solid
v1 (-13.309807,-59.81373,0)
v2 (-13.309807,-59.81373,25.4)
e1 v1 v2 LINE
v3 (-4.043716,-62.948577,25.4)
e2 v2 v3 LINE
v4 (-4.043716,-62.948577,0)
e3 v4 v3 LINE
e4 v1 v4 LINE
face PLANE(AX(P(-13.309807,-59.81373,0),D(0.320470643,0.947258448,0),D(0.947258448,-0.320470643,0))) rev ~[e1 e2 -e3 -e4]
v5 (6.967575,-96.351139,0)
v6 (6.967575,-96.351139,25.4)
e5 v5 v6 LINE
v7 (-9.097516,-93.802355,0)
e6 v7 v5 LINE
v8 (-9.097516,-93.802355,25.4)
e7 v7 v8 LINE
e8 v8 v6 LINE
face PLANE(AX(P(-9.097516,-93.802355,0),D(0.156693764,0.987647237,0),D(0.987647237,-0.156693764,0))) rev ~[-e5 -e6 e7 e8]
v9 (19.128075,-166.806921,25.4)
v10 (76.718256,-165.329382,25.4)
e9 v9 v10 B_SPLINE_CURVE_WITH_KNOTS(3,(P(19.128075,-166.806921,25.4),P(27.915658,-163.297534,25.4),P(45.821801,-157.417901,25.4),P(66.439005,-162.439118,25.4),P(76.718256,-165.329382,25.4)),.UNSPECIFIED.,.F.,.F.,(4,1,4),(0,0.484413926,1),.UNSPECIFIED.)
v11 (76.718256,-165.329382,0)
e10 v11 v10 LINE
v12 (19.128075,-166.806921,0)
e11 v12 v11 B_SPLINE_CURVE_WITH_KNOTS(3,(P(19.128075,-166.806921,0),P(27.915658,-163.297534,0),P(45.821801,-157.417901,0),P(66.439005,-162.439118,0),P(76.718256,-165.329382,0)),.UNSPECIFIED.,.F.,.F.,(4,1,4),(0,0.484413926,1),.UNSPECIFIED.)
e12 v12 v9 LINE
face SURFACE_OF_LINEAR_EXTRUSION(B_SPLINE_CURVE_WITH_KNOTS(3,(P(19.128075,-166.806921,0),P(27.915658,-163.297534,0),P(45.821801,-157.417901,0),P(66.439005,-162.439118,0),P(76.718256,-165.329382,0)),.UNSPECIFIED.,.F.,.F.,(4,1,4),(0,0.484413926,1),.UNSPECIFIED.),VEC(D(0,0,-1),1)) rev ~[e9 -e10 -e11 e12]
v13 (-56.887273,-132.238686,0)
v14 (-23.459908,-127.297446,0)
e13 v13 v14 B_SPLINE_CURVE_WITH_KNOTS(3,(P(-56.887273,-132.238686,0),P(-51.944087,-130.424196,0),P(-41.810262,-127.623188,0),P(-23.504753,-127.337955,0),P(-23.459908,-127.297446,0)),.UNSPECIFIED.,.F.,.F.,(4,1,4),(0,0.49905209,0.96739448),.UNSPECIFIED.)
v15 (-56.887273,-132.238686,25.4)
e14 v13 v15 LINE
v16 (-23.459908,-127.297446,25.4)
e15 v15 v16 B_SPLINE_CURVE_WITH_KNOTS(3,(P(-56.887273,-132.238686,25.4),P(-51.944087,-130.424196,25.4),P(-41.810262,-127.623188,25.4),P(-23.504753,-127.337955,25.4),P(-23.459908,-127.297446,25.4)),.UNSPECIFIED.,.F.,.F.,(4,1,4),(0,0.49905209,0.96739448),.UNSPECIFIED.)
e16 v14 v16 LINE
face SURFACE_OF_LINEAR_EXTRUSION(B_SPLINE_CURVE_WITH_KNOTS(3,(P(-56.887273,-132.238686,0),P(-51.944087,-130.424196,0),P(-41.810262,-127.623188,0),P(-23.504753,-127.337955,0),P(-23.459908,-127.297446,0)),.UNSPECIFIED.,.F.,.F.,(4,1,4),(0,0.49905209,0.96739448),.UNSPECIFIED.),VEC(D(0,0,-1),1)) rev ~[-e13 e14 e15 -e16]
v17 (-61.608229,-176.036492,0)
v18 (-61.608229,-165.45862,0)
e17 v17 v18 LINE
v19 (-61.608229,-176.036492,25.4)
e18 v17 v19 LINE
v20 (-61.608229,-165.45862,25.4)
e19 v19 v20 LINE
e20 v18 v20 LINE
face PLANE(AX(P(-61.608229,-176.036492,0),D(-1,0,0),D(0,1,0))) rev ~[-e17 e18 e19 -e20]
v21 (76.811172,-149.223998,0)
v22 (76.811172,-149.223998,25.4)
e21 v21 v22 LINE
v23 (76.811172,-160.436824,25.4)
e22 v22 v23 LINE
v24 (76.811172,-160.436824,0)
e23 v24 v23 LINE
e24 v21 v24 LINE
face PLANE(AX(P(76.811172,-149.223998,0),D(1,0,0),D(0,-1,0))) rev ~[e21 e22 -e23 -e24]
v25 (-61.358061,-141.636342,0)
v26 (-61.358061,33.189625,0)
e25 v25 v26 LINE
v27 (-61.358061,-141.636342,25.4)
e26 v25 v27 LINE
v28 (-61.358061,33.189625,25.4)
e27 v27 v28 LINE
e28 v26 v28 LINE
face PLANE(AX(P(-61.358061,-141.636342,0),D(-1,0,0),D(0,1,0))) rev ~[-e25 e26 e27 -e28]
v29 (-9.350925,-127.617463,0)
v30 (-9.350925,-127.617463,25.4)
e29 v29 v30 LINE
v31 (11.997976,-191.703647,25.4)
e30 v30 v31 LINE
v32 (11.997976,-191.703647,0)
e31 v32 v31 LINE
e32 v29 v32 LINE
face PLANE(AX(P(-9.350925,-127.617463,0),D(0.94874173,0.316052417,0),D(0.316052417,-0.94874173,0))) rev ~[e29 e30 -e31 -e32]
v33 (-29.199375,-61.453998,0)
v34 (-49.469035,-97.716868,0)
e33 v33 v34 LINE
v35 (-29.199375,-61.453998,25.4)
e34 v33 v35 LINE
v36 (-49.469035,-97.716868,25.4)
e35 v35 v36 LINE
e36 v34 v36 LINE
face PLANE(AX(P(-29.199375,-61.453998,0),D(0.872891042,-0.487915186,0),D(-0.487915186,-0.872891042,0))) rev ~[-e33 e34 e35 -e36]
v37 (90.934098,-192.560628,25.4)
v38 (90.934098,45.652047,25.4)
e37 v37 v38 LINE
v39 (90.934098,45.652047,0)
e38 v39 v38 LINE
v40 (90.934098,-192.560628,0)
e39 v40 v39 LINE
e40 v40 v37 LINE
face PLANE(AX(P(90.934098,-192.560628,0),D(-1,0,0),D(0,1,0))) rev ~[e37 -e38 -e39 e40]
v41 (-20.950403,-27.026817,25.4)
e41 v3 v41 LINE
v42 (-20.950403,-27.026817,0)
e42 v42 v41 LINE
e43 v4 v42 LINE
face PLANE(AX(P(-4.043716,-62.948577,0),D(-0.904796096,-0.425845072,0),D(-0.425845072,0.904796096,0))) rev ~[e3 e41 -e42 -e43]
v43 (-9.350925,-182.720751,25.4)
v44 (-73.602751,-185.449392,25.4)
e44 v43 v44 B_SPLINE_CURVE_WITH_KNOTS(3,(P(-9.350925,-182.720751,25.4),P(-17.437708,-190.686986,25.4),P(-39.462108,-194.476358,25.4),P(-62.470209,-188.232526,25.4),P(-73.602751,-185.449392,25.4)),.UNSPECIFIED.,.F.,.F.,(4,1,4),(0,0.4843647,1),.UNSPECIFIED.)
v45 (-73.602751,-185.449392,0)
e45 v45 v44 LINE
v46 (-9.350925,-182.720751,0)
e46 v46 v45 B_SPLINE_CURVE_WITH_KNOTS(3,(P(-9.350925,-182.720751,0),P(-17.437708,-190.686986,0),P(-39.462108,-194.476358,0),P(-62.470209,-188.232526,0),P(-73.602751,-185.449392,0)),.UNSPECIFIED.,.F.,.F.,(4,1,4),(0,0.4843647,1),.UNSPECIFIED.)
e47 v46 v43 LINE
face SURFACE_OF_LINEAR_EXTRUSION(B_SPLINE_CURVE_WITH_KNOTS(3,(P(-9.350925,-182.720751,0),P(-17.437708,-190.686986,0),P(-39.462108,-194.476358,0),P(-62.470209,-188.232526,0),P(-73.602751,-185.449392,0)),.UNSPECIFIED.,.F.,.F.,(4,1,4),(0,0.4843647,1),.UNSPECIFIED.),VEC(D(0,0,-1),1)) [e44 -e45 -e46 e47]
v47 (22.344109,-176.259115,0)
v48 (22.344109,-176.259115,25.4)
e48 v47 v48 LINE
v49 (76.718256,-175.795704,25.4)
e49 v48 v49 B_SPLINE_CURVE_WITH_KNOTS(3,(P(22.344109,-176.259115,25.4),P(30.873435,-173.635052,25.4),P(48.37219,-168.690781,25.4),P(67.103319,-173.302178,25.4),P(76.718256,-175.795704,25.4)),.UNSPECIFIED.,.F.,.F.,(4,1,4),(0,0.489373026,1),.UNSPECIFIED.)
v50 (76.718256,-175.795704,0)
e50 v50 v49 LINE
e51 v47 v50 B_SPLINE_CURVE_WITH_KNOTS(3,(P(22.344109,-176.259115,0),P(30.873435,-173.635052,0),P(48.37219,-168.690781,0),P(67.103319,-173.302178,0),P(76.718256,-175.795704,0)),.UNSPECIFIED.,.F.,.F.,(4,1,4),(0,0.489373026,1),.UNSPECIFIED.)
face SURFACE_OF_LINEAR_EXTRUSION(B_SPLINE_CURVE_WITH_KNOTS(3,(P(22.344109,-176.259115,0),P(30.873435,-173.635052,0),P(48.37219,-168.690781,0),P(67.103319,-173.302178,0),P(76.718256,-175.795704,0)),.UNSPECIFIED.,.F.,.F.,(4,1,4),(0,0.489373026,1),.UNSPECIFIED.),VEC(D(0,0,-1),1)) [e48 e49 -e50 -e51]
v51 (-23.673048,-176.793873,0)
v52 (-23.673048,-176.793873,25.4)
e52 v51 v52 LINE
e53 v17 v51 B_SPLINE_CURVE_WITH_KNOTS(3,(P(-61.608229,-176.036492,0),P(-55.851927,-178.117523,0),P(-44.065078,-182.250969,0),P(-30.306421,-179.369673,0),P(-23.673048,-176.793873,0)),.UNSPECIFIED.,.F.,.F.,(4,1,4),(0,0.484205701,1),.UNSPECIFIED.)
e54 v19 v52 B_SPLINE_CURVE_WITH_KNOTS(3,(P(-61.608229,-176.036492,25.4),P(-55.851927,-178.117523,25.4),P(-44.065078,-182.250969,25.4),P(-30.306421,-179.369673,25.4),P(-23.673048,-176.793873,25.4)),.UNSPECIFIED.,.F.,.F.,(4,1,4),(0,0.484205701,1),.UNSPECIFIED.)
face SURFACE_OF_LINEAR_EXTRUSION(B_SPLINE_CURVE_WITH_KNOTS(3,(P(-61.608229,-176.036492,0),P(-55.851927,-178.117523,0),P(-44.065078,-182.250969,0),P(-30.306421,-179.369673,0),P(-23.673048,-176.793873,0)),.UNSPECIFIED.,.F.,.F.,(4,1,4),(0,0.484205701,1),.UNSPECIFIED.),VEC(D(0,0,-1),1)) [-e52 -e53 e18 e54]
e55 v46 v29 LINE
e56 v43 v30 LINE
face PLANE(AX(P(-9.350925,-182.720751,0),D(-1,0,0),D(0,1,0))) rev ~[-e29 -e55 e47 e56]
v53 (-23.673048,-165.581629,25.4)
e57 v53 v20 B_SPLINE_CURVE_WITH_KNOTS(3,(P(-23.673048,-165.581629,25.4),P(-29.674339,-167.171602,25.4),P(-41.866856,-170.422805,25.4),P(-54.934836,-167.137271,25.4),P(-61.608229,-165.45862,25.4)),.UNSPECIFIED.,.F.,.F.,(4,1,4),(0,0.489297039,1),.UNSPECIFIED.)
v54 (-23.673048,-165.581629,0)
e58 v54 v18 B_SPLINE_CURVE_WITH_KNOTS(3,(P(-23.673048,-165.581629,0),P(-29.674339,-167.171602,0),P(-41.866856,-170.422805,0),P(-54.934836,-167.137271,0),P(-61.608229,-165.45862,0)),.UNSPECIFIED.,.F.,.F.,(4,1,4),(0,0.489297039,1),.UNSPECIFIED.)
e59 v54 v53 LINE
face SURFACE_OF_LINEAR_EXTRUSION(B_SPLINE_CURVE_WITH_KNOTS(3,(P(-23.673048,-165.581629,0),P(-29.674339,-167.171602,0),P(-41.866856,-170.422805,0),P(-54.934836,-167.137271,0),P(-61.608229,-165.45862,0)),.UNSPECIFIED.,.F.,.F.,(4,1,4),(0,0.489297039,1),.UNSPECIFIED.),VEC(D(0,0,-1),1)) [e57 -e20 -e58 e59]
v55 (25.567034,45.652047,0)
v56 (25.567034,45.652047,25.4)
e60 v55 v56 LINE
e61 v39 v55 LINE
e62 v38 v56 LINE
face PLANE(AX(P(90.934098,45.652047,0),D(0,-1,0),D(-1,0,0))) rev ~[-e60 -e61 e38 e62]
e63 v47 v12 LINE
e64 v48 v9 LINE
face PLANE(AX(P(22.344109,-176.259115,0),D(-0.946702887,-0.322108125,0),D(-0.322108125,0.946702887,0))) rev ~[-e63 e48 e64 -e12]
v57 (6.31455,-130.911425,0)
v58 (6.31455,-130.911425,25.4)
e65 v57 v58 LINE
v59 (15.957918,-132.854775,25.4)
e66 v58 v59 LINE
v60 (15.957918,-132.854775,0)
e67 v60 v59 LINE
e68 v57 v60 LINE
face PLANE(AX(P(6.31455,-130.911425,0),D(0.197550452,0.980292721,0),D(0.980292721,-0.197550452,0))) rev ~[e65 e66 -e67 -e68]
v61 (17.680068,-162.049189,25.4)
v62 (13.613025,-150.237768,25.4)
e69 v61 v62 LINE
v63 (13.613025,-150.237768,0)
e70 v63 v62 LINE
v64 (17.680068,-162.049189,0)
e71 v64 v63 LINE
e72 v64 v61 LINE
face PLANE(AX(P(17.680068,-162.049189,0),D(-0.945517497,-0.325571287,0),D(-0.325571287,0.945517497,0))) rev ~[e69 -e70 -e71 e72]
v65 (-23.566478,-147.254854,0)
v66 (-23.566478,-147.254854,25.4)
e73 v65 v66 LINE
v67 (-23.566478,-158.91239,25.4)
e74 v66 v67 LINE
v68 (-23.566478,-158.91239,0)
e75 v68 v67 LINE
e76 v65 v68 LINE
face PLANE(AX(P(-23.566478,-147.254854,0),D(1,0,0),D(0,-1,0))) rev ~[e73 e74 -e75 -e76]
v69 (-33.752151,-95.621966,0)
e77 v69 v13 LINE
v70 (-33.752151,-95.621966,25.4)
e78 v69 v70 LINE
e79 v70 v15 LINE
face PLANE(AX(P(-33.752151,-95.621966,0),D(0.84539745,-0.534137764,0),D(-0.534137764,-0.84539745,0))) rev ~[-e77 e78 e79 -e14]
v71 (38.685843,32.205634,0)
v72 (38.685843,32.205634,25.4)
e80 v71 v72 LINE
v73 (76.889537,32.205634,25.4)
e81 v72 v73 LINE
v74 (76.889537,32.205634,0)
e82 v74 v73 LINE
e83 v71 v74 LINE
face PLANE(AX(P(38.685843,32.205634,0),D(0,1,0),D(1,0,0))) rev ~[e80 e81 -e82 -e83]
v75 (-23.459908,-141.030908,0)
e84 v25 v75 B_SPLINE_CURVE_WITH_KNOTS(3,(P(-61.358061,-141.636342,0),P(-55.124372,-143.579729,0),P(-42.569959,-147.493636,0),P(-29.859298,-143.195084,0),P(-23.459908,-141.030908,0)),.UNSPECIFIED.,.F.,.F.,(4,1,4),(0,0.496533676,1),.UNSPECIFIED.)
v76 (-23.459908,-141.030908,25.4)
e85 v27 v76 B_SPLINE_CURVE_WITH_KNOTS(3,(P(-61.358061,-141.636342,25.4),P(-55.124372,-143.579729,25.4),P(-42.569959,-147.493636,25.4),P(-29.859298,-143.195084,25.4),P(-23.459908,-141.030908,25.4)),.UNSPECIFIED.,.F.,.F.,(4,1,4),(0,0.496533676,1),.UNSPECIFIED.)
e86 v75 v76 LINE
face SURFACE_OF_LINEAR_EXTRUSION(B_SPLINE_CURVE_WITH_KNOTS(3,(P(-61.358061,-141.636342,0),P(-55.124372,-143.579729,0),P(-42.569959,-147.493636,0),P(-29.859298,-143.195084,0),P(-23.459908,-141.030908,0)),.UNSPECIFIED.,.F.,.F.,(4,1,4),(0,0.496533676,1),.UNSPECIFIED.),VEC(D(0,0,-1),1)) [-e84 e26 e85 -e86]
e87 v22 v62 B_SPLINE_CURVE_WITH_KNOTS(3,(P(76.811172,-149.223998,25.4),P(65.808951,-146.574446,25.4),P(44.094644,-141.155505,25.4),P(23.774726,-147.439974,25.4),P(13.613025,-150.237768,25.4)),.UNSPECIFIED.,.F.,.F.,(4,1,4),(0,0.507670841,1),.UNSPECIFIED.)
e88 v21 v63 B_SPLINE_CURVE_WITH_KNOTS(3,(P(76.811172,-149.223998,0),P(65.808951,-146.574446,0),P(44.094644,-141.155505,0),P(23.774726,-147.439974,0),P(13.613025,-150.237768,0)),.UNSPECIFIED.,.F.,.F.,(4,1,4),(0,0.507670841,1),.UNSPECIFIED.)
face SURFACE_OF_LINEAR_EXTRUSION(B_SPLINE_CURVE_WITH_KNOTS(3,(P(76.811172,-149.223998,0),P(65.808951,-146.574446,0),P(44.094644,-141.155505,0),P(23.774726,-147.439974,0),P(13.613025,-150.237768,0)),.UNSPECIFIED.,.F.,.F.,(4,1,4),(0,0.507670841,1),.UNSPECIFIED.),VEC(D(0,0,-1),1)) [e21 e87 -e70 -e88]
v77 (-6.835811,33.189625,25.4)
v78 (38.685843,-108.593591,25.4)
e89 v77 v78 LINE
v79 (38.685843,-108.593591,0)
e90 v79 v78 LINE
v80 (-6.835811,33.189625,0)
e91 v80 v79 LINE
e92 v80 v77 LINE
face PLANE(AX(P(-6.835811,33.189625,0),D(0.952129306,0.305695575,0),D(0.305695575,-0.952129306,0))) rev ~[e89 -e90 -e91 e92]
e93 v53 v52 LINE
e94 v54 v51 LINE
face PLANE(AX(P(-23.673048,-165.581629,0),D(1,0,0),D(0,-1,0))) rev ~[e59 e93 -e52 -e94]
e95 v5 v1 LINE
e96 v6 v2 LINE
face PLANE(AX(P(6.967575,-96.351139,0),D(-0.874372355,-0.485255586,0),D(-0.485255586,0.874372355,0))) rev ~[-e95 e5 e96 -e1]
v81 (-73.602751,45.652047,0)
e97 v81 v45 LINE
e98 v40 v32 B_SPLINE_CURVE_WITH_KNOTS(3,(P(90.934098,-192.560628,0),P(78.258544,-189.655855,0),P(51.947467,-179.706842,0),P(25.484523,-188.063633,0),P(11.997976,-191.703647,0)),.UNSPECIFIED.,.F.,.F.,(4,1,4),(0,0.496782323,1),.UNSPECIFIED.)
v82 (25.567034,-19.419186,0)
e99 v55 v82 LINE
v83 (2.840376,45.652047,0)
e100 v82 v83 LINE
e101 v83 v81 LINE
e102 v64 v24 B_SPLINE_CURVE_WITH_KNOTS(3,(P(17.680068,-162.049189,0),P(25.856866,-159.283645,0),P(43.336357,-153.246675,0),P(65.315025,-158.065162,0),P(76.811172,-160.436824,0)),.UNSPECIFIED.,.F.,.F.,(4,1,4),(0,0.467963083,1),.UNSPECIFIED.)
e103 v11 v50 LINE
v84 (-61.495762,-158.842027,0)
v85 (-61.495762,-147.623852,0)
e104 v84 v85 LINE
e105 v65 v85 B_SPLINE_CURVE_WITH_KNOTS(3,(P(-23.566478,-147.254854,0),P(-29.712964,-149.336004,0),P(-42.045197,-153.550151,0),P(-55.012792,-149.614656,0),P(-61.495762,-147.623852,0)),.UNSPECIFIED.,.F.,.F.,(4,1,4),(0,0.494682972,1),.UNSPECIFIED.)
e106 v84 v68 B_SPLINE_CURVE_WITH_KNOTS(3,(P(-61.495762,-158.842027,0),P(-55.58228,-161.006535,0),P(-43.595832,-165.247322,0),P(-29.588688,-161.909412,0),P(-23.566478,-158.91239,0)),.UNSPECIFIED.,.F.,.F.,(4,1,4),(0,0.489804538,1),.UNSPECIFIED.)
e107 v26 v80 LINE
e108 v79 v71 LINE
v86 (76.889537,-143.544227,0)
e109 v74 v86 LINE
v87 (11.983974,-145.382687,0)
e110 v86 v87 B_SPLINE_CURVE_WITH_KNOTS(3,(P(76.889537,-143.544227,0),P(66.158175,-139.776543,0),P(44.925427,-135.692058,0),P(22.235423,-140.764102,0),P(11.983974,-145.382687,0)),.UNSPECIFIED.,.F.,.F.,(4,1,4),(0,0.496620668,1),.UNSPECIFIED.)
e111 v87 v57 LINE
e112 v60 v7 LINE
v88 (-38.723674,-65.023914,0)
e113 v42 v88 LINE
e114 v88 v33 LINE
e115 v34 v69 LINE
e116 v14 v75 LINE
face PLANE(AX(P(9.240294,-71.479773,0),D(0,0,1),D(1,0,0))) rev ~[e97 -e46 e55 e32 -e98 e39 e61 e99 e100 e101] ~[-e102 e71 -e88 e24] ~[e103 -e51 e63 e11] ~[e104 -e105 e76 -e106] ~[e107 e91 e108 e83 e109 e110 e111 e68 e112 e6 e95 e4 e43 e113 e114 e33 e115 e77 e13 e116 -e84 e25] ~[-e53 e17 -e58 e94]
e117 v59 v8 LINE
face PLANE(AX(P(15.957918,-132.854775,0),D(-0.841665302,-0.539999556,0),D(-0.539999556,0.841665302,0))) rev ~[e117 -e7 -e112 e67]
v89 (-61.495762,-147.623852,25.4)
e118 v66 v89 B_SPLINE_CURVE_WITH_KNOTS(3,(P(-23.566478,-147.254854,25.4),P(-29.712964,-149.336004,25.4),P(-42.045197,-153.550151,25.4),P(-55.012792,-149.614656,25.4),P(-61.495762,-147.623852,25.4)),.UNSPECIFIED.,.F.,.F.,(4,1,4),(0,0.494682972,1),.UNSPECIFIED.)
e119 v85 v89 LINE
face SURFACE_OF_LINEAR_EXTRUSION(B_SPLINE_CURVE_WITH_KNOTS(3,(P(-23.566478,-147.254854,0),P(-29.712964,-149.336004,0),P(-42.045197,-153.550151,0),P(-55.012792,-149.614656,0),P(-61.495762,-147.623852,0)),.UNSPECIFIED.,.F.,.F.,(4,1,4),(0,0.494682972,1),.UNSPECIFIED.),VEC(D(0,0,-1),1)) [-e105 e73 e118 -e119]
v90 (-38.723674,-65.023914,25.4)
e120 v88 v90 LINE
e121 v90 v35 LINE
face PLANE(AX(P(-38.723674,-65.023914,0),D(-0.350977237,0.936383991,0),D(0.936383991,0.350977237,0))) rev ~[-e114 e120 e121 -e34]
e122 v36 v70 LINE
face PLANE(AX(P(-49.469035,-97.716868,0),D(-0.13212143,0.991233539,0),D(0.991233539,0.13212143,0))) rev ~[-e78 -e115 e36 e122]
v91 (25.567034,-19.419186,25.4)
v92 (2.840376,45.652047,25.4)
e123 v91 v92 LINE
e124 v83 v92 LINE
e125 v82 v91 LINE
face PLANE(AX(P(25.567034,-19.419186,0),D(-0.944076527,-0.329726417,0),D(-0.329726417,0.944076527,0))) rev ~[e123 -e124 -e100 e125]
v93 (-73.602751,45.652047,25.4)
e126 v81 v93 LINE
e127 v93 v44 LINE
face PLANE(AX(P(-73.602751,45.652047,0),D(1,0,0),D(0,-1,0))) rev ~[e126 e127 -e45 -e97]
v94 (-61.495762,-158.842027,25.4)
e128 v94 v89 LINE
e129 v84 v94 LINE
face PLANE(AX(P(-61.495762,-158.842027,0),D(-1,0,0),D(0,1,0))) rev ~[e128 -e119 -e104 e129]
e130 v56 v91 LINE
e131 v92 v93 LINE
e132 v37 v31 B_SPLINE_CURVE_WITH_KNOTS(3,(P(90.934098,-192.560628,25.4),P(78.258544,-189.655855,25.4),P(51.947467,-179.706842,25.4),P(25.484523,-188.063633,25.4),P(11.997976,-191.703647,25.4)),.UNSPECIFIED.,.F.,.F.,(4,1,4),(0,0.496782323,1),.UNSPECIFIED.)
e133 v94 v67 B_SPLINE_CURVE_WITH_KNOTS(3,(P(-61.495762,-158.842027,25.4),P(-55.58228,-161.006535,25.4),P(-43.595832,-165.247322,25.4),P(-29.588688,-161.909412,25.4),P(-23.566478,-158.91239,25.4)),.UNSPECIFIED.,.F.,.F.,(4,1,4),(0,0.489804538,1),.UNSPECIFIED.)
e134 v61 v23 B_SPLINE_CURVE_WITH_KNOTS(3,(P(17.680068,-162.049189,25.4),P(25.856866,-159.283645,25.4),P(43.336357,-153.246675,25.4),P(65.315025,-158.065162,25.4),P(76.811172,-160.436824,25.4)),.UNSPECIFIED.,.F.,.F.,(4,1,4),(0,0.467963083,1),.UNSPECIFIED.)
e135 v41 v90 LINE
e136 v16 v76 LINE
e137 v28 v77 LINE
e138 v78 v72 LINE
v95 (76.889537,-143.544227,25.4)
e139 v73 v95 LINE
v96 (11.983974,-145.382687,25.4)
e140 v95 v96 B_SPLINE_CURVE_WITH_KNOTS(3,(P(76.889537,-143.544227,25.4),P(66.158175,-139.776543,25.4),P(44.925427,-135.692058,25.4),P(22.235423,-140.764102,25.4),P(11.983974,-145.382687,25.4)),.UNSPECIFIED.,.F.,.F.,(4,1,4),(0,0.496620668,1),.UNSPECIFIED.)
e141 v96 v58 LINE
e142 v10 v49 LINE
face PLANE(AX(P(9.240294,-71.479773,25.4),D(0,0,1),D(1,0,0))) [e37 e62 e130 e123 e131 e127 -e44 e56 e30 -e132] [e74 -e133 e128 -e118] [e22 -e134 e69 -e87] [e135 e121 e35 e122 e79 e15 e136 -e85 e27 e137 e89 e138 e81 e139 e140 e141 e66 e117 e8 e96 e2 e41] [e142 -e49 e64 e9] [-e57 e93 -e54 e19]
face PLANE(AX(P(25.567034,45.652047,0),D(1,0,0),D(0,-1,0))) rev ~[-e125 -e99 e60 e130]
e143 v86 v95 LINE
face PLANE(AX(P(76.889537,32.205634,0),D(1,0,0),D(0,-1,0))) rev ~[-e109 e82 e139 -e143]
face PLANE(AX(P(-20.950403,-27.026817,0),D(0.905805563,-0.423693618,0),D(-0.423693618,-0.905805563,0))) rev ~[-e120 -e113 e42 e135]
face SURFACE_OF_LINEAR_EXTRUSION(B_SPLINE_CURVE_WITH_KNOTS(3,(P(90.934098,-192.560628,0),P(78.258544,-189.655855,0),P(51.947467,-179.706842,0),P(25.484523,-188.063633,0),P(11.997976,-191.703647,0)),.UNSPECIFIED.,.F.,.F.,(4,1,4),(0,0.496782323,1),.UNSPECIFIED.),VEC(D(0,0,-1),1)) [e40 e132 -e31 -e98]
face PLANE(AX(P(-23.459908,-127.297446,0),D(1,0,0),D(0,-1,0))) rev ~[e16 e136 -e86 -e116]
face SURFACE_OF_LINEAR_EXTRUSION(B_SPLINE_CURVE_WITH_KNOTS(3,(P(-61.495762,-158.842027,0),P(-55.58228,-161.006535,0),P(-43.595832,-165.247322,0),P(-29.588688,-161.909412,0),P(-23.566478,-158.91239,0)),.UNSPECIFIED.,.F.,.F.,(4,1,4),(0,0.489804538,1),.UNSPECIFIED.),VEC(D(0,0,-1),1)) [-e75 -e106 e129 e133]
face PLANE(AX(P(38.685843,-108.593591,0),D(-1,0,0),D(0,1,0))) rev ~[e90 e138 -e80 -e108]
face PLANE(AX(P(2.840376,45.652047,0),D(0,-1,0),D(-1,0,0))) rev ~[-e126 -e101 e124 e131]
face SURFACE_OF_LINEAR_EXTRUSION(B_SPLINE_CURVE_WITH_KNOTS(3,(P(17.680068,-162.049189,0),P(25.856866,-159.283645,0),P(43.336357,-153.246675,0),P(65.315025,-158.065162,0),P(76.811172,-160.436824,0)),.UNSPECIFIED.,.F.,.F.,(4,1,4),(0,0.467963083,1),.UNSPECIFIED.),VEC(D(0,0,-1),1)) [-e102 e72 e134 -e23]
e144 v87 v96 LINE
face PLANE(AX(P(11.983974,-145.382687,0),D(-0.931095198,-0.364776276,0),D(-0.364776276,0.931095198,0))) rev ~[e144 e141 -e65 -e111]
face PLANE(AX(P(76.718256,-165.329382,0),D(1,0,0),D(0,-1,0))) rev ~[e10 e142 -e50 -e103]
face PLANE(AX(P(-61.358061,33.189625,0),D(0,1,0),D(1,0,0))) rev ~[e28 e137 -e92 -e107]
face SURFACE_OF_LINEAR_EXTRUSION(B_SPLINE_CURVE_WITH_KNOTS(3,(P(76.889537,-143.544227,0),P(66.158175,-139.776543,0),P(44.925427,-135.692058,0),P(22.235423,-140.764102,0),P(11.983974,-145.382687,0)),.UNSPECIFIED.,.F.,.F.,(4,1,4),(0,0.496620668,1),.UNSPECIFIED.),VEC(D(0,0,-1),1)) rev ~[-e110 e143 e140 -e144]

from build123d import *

# Parameters (mm, degrees)
F1_DEPTH = 25.4


with BuildPart() as f1:
    # F0 (on Top) → F1 (new body)
    with BuildSketch(Plane.XY):
        with BuildLine():
            Line((2.8403762262, 45.6520467997), (-73.6027508974, 45.6520467997))
            Line((-73.6027508974, 45.6520467997), (-73.6027508974, -185.4493916035))
            add(Edge.make_bspline(
                [(-9.3509247527, -182.7207505703), (-17.437708134, -190.6869860397), (-39.462107573, -194.4763575001), (-62.4702088535, -188.2325261831), (-73.6027508974, -185.4493916035)],
                knots=[0, 0, 0, 0, 0.4843647, 1, 1, 1, 1], degree=3))
            Line((-9.3509247527, -182.7207505703), (-9.3509247527, -127.6174634695))
            Line((-9.3509247527, -127.6174634695), (11.9979763404, -191.7036473751))
            add(Edge.make_bspline(
                [(90.9340977669, -192.5606280565), (78.2585442066, -189.655855298), (51.9474674394, -179.7068423852), (25.4845232477, -188.0636329791), (11.9979763404, -191.7036473751)],
                knots=[0, 0, 0, 0, 0.4967823227, 1, 1, 1, 1], degree=3))
            Line((90.9340977669, -192.5606280565), (90.9340977669, 45.6520467997))
            Line((90.9340977669, 45.6520467997), (25.5670342594, 45.6520467997))
            Line((25.5670342594, 45.6520467997), (25.5670342594, -19.4191858172))
            Line((25.5670342594, -19.4191858172), (2.8403762262, 45.6520467997))
        make_face()
        with BuildLine():
            Line((-61.6082288325, -176.0364919901), (-61.6082288325, -165.4586195946))
            add(Edge.make_bspline(
                [(-23.6730482429, -165.5816286802), (-29.6743388581, -167.1716020854), (-41.866855763, -170.422804665), (-54.9348358498, -167.1372714885), (-61.6082288325, -165.4586195946)],
                knots=[0, 0, 0, 0, 0.4892970389, 1, 1, 1, 1], degree=3))
            Line((-23.6730482429, -165.5816286802), (-23.6730482429, -176.7938733101))
            add(Edge.make_bspline(
                [(-61.6082288325, -176.0364919901), (-55.8519269533, -178.1175226352), (-44.0650777342, -182.250968639), (-30.3064212203, -179.3696731329), (-23.6730482429, -176.7938733101)],
                knots=[0, 0, 0, 0, 0.4842057013, 1, 1, 1, 1], degree=3))
        make_face(mode=Mode.SUBTRACT)
        with BuildLine():
            Line((-61.4957623184, -158.8420271873), (-61.4957623184, -147.6238518953))
            add(Edge.make_bspline(
                [(-23.566477932, -147.2548544407), (-29.712963668, -149.3360042131), (-42.0451974231, -153.5501506553), (-55.0127920336, -149.6146560989), (-61.4957623184, -147.6238518953)],
                knots=[0, 0, 0, 0, 0.494682972, 1, 1, 1, 1], degree=3))
            Line((-23.566477932, -147.2548544407), (-23.566477932, -158.9123904705))
            add(Edge.make_bspline(
                [(-61.4957623184, -158.8420271873), (-55.5822802874, -161.0065351502), (-43.5958322945, -165.2473219714), (-29.5886882908, -161.9094118541), (-23.566477932, -158.9123904705)],
                knots=[0, 0, 0, 0, 0.4898045376, 1, 1, 1, 1], degree=3))
        make_face(mode=Mode.SUBTRACT)
        with BuildLine():
            Line((22.3441086709, -176.2591153383), (19.1280748695, -166.8069213629))
            add(Edge.make_bspline(
                [(19.1280748695, -166.8069213629), (27.9156584293, -163.297533989), (45.8218010204, -157.4179008912), (66.4390050953, -162.4391177875), (76.7182558775, -165.3293818235)],
                knots=[0, 0, 0, 0, 0.4844139256, 1, 1, 1, 1], degree=3))
            Line((76.7182558775, -165.3293818235), (76.7182558775, -175.7957041264))
            add(Edge.make_bspline(
                [(22.3441086709, -176.2591153383), (30.8734351647, -173.63505248), (48.372189716, -168.6907809082), (67.1033187619, -173.3021776491), (76.7182558775, -175.7957041264)],
                knots=[0, 0, 0, 0, 0.4893730261, 1, 1, 1, 1], degree=3))
        make_face(mode=Mode.SUBTRACT)
        with BuildLine():
            add(Edge.make_bspline(
                [(17.680067569, -162.0491892099), (25.8568657938, -159.2836448096), (43.3363572549, -153.246674733), (65.3150252677, -158.0651620078), (76.8111720681, -160.4368239641)],
                knots=[0, 0, 0, 0, 0.4679630835, 1, 1, 1, 1], degree=3))
            Line((17.680067569, -162.0491892099), (13.6130254536, -150.2377683718))
            add(Edge.make_bspline(
                [(76.8111720681, -149.223998189), (65.8089509547, -146.5744464182), (44.0946442795, -141.1555049391), (23.7747255115, -147.4399738598), (13.6130254536, -150.2377683718)],
                knots=[0, 0, 0, 0, 0.5076708413, 1, 1, 1, 1], degree=3))
            Line((76.8111720681, -149.223998189), (76.8111720681, -160.4368239641))
        make_face(mode=Mode.SUBTRACT)
        with BuildLine():
            add(Edge.make_bspline(
                [(-61.3580606878, -141.6363418102), (-55.1243719971, -143.5797285758), (-42.5699592819, -147.4936358513), (-29.8592976922, -143.1950838215), (-23.4599076211, -141.0309076309)],
                knots=[0, 0, 0, 0, 0.4965336756, 1, 1, 1, 1], degree=3))
            Line((-61.3580606878, -141.6363418102), (-61.3580606878, 33.189624548))
            Line((-61.3580606878, 33.189624548), (-6.8358113058, 33.189624548))
            Line((-6.8358113058, 33.189624548), (38.6858433485, -108.5935905576))
            Line((38.6858433485, -108.5935905576), (38.6858433485, 32.2056338191))
            Line((38.6858433485, 32.2056338191), (76.8895372748, 32.2056338191))
            Line((76.8895372748, 32.2056338191), (76.8895372748, -143.5442268848))
            add(Edge.make_bspline(
                [(76.8895372748, -143.5442268848), (66.1581754684, -139.7765427828), (44.92542678, -135.6920583397), (22.2354233265, -140.7641023397), (11.9839739054, -145.3826874495)],
                knots=[0, 0, 0, 0, 0.4966206681, 1, 1, 1, 1], degree=3))
            Line((11.9839739054, -145.3826874495), (6.3145500608, -130.9114247561))
            Line((6.3145500608, -130.9114247561), (15.9579180181, -132.8547745943))
            Line((15.9579180181, -132.8547745943), (-9.0975156054, -93.8023552299))
            Line((-9.0975156054, -93.8023552299), (6.9675748236, -96.3511392474))
            Line((6.9675748236, -96.3511392474), (-13.3098065853, -59.8137304187))
            Line((-13.3098065853, -59.8137304187), (-4.043716006, -62.948577106))
            Line((-4.043716006, -62.948577106), (-20.9504030645, -27.0268172026))
            Line((-20.9504030645, -27.0268172026), (-38.7236736715, -65.0239139795))
            Line((-38.7236736715, -65.0239139795), (-29.1993748397, -61.4539980888))
            Line((-29.1993748397, -61.4539980888), (-49.4690351188, -97.7168679237))
            Line((-49.4690351188, -97.7168679237), (-33.7521508336, -95.6219658256))
            Line((-33.7521508336, -95.6219658256), (-56.8872727454, -132.2386860847))
            add(Edge.make_bspline(
                [(-56.8872727454, -132.2386860847), (-51.9440866881, -130.4241960282), (-41.8102623942, -127.6231875659), (-23.5047530606, -127.3379553592), (-23.4599076211, -127.2974461317)],
                knots=[0, 0, 0, 0, 0.4990520903, 0.9673944803, 0.9673944803, 0.9673944803, 0.9673944803], degree=3))
            Line((-23.4599076211, -127.2974461317), (-23.4599076211, -141.0309076309))
        make_face(mode=Mode.SUBTRACT)
    extrude(amount=F1_DEPTH)


solid = f1.part
